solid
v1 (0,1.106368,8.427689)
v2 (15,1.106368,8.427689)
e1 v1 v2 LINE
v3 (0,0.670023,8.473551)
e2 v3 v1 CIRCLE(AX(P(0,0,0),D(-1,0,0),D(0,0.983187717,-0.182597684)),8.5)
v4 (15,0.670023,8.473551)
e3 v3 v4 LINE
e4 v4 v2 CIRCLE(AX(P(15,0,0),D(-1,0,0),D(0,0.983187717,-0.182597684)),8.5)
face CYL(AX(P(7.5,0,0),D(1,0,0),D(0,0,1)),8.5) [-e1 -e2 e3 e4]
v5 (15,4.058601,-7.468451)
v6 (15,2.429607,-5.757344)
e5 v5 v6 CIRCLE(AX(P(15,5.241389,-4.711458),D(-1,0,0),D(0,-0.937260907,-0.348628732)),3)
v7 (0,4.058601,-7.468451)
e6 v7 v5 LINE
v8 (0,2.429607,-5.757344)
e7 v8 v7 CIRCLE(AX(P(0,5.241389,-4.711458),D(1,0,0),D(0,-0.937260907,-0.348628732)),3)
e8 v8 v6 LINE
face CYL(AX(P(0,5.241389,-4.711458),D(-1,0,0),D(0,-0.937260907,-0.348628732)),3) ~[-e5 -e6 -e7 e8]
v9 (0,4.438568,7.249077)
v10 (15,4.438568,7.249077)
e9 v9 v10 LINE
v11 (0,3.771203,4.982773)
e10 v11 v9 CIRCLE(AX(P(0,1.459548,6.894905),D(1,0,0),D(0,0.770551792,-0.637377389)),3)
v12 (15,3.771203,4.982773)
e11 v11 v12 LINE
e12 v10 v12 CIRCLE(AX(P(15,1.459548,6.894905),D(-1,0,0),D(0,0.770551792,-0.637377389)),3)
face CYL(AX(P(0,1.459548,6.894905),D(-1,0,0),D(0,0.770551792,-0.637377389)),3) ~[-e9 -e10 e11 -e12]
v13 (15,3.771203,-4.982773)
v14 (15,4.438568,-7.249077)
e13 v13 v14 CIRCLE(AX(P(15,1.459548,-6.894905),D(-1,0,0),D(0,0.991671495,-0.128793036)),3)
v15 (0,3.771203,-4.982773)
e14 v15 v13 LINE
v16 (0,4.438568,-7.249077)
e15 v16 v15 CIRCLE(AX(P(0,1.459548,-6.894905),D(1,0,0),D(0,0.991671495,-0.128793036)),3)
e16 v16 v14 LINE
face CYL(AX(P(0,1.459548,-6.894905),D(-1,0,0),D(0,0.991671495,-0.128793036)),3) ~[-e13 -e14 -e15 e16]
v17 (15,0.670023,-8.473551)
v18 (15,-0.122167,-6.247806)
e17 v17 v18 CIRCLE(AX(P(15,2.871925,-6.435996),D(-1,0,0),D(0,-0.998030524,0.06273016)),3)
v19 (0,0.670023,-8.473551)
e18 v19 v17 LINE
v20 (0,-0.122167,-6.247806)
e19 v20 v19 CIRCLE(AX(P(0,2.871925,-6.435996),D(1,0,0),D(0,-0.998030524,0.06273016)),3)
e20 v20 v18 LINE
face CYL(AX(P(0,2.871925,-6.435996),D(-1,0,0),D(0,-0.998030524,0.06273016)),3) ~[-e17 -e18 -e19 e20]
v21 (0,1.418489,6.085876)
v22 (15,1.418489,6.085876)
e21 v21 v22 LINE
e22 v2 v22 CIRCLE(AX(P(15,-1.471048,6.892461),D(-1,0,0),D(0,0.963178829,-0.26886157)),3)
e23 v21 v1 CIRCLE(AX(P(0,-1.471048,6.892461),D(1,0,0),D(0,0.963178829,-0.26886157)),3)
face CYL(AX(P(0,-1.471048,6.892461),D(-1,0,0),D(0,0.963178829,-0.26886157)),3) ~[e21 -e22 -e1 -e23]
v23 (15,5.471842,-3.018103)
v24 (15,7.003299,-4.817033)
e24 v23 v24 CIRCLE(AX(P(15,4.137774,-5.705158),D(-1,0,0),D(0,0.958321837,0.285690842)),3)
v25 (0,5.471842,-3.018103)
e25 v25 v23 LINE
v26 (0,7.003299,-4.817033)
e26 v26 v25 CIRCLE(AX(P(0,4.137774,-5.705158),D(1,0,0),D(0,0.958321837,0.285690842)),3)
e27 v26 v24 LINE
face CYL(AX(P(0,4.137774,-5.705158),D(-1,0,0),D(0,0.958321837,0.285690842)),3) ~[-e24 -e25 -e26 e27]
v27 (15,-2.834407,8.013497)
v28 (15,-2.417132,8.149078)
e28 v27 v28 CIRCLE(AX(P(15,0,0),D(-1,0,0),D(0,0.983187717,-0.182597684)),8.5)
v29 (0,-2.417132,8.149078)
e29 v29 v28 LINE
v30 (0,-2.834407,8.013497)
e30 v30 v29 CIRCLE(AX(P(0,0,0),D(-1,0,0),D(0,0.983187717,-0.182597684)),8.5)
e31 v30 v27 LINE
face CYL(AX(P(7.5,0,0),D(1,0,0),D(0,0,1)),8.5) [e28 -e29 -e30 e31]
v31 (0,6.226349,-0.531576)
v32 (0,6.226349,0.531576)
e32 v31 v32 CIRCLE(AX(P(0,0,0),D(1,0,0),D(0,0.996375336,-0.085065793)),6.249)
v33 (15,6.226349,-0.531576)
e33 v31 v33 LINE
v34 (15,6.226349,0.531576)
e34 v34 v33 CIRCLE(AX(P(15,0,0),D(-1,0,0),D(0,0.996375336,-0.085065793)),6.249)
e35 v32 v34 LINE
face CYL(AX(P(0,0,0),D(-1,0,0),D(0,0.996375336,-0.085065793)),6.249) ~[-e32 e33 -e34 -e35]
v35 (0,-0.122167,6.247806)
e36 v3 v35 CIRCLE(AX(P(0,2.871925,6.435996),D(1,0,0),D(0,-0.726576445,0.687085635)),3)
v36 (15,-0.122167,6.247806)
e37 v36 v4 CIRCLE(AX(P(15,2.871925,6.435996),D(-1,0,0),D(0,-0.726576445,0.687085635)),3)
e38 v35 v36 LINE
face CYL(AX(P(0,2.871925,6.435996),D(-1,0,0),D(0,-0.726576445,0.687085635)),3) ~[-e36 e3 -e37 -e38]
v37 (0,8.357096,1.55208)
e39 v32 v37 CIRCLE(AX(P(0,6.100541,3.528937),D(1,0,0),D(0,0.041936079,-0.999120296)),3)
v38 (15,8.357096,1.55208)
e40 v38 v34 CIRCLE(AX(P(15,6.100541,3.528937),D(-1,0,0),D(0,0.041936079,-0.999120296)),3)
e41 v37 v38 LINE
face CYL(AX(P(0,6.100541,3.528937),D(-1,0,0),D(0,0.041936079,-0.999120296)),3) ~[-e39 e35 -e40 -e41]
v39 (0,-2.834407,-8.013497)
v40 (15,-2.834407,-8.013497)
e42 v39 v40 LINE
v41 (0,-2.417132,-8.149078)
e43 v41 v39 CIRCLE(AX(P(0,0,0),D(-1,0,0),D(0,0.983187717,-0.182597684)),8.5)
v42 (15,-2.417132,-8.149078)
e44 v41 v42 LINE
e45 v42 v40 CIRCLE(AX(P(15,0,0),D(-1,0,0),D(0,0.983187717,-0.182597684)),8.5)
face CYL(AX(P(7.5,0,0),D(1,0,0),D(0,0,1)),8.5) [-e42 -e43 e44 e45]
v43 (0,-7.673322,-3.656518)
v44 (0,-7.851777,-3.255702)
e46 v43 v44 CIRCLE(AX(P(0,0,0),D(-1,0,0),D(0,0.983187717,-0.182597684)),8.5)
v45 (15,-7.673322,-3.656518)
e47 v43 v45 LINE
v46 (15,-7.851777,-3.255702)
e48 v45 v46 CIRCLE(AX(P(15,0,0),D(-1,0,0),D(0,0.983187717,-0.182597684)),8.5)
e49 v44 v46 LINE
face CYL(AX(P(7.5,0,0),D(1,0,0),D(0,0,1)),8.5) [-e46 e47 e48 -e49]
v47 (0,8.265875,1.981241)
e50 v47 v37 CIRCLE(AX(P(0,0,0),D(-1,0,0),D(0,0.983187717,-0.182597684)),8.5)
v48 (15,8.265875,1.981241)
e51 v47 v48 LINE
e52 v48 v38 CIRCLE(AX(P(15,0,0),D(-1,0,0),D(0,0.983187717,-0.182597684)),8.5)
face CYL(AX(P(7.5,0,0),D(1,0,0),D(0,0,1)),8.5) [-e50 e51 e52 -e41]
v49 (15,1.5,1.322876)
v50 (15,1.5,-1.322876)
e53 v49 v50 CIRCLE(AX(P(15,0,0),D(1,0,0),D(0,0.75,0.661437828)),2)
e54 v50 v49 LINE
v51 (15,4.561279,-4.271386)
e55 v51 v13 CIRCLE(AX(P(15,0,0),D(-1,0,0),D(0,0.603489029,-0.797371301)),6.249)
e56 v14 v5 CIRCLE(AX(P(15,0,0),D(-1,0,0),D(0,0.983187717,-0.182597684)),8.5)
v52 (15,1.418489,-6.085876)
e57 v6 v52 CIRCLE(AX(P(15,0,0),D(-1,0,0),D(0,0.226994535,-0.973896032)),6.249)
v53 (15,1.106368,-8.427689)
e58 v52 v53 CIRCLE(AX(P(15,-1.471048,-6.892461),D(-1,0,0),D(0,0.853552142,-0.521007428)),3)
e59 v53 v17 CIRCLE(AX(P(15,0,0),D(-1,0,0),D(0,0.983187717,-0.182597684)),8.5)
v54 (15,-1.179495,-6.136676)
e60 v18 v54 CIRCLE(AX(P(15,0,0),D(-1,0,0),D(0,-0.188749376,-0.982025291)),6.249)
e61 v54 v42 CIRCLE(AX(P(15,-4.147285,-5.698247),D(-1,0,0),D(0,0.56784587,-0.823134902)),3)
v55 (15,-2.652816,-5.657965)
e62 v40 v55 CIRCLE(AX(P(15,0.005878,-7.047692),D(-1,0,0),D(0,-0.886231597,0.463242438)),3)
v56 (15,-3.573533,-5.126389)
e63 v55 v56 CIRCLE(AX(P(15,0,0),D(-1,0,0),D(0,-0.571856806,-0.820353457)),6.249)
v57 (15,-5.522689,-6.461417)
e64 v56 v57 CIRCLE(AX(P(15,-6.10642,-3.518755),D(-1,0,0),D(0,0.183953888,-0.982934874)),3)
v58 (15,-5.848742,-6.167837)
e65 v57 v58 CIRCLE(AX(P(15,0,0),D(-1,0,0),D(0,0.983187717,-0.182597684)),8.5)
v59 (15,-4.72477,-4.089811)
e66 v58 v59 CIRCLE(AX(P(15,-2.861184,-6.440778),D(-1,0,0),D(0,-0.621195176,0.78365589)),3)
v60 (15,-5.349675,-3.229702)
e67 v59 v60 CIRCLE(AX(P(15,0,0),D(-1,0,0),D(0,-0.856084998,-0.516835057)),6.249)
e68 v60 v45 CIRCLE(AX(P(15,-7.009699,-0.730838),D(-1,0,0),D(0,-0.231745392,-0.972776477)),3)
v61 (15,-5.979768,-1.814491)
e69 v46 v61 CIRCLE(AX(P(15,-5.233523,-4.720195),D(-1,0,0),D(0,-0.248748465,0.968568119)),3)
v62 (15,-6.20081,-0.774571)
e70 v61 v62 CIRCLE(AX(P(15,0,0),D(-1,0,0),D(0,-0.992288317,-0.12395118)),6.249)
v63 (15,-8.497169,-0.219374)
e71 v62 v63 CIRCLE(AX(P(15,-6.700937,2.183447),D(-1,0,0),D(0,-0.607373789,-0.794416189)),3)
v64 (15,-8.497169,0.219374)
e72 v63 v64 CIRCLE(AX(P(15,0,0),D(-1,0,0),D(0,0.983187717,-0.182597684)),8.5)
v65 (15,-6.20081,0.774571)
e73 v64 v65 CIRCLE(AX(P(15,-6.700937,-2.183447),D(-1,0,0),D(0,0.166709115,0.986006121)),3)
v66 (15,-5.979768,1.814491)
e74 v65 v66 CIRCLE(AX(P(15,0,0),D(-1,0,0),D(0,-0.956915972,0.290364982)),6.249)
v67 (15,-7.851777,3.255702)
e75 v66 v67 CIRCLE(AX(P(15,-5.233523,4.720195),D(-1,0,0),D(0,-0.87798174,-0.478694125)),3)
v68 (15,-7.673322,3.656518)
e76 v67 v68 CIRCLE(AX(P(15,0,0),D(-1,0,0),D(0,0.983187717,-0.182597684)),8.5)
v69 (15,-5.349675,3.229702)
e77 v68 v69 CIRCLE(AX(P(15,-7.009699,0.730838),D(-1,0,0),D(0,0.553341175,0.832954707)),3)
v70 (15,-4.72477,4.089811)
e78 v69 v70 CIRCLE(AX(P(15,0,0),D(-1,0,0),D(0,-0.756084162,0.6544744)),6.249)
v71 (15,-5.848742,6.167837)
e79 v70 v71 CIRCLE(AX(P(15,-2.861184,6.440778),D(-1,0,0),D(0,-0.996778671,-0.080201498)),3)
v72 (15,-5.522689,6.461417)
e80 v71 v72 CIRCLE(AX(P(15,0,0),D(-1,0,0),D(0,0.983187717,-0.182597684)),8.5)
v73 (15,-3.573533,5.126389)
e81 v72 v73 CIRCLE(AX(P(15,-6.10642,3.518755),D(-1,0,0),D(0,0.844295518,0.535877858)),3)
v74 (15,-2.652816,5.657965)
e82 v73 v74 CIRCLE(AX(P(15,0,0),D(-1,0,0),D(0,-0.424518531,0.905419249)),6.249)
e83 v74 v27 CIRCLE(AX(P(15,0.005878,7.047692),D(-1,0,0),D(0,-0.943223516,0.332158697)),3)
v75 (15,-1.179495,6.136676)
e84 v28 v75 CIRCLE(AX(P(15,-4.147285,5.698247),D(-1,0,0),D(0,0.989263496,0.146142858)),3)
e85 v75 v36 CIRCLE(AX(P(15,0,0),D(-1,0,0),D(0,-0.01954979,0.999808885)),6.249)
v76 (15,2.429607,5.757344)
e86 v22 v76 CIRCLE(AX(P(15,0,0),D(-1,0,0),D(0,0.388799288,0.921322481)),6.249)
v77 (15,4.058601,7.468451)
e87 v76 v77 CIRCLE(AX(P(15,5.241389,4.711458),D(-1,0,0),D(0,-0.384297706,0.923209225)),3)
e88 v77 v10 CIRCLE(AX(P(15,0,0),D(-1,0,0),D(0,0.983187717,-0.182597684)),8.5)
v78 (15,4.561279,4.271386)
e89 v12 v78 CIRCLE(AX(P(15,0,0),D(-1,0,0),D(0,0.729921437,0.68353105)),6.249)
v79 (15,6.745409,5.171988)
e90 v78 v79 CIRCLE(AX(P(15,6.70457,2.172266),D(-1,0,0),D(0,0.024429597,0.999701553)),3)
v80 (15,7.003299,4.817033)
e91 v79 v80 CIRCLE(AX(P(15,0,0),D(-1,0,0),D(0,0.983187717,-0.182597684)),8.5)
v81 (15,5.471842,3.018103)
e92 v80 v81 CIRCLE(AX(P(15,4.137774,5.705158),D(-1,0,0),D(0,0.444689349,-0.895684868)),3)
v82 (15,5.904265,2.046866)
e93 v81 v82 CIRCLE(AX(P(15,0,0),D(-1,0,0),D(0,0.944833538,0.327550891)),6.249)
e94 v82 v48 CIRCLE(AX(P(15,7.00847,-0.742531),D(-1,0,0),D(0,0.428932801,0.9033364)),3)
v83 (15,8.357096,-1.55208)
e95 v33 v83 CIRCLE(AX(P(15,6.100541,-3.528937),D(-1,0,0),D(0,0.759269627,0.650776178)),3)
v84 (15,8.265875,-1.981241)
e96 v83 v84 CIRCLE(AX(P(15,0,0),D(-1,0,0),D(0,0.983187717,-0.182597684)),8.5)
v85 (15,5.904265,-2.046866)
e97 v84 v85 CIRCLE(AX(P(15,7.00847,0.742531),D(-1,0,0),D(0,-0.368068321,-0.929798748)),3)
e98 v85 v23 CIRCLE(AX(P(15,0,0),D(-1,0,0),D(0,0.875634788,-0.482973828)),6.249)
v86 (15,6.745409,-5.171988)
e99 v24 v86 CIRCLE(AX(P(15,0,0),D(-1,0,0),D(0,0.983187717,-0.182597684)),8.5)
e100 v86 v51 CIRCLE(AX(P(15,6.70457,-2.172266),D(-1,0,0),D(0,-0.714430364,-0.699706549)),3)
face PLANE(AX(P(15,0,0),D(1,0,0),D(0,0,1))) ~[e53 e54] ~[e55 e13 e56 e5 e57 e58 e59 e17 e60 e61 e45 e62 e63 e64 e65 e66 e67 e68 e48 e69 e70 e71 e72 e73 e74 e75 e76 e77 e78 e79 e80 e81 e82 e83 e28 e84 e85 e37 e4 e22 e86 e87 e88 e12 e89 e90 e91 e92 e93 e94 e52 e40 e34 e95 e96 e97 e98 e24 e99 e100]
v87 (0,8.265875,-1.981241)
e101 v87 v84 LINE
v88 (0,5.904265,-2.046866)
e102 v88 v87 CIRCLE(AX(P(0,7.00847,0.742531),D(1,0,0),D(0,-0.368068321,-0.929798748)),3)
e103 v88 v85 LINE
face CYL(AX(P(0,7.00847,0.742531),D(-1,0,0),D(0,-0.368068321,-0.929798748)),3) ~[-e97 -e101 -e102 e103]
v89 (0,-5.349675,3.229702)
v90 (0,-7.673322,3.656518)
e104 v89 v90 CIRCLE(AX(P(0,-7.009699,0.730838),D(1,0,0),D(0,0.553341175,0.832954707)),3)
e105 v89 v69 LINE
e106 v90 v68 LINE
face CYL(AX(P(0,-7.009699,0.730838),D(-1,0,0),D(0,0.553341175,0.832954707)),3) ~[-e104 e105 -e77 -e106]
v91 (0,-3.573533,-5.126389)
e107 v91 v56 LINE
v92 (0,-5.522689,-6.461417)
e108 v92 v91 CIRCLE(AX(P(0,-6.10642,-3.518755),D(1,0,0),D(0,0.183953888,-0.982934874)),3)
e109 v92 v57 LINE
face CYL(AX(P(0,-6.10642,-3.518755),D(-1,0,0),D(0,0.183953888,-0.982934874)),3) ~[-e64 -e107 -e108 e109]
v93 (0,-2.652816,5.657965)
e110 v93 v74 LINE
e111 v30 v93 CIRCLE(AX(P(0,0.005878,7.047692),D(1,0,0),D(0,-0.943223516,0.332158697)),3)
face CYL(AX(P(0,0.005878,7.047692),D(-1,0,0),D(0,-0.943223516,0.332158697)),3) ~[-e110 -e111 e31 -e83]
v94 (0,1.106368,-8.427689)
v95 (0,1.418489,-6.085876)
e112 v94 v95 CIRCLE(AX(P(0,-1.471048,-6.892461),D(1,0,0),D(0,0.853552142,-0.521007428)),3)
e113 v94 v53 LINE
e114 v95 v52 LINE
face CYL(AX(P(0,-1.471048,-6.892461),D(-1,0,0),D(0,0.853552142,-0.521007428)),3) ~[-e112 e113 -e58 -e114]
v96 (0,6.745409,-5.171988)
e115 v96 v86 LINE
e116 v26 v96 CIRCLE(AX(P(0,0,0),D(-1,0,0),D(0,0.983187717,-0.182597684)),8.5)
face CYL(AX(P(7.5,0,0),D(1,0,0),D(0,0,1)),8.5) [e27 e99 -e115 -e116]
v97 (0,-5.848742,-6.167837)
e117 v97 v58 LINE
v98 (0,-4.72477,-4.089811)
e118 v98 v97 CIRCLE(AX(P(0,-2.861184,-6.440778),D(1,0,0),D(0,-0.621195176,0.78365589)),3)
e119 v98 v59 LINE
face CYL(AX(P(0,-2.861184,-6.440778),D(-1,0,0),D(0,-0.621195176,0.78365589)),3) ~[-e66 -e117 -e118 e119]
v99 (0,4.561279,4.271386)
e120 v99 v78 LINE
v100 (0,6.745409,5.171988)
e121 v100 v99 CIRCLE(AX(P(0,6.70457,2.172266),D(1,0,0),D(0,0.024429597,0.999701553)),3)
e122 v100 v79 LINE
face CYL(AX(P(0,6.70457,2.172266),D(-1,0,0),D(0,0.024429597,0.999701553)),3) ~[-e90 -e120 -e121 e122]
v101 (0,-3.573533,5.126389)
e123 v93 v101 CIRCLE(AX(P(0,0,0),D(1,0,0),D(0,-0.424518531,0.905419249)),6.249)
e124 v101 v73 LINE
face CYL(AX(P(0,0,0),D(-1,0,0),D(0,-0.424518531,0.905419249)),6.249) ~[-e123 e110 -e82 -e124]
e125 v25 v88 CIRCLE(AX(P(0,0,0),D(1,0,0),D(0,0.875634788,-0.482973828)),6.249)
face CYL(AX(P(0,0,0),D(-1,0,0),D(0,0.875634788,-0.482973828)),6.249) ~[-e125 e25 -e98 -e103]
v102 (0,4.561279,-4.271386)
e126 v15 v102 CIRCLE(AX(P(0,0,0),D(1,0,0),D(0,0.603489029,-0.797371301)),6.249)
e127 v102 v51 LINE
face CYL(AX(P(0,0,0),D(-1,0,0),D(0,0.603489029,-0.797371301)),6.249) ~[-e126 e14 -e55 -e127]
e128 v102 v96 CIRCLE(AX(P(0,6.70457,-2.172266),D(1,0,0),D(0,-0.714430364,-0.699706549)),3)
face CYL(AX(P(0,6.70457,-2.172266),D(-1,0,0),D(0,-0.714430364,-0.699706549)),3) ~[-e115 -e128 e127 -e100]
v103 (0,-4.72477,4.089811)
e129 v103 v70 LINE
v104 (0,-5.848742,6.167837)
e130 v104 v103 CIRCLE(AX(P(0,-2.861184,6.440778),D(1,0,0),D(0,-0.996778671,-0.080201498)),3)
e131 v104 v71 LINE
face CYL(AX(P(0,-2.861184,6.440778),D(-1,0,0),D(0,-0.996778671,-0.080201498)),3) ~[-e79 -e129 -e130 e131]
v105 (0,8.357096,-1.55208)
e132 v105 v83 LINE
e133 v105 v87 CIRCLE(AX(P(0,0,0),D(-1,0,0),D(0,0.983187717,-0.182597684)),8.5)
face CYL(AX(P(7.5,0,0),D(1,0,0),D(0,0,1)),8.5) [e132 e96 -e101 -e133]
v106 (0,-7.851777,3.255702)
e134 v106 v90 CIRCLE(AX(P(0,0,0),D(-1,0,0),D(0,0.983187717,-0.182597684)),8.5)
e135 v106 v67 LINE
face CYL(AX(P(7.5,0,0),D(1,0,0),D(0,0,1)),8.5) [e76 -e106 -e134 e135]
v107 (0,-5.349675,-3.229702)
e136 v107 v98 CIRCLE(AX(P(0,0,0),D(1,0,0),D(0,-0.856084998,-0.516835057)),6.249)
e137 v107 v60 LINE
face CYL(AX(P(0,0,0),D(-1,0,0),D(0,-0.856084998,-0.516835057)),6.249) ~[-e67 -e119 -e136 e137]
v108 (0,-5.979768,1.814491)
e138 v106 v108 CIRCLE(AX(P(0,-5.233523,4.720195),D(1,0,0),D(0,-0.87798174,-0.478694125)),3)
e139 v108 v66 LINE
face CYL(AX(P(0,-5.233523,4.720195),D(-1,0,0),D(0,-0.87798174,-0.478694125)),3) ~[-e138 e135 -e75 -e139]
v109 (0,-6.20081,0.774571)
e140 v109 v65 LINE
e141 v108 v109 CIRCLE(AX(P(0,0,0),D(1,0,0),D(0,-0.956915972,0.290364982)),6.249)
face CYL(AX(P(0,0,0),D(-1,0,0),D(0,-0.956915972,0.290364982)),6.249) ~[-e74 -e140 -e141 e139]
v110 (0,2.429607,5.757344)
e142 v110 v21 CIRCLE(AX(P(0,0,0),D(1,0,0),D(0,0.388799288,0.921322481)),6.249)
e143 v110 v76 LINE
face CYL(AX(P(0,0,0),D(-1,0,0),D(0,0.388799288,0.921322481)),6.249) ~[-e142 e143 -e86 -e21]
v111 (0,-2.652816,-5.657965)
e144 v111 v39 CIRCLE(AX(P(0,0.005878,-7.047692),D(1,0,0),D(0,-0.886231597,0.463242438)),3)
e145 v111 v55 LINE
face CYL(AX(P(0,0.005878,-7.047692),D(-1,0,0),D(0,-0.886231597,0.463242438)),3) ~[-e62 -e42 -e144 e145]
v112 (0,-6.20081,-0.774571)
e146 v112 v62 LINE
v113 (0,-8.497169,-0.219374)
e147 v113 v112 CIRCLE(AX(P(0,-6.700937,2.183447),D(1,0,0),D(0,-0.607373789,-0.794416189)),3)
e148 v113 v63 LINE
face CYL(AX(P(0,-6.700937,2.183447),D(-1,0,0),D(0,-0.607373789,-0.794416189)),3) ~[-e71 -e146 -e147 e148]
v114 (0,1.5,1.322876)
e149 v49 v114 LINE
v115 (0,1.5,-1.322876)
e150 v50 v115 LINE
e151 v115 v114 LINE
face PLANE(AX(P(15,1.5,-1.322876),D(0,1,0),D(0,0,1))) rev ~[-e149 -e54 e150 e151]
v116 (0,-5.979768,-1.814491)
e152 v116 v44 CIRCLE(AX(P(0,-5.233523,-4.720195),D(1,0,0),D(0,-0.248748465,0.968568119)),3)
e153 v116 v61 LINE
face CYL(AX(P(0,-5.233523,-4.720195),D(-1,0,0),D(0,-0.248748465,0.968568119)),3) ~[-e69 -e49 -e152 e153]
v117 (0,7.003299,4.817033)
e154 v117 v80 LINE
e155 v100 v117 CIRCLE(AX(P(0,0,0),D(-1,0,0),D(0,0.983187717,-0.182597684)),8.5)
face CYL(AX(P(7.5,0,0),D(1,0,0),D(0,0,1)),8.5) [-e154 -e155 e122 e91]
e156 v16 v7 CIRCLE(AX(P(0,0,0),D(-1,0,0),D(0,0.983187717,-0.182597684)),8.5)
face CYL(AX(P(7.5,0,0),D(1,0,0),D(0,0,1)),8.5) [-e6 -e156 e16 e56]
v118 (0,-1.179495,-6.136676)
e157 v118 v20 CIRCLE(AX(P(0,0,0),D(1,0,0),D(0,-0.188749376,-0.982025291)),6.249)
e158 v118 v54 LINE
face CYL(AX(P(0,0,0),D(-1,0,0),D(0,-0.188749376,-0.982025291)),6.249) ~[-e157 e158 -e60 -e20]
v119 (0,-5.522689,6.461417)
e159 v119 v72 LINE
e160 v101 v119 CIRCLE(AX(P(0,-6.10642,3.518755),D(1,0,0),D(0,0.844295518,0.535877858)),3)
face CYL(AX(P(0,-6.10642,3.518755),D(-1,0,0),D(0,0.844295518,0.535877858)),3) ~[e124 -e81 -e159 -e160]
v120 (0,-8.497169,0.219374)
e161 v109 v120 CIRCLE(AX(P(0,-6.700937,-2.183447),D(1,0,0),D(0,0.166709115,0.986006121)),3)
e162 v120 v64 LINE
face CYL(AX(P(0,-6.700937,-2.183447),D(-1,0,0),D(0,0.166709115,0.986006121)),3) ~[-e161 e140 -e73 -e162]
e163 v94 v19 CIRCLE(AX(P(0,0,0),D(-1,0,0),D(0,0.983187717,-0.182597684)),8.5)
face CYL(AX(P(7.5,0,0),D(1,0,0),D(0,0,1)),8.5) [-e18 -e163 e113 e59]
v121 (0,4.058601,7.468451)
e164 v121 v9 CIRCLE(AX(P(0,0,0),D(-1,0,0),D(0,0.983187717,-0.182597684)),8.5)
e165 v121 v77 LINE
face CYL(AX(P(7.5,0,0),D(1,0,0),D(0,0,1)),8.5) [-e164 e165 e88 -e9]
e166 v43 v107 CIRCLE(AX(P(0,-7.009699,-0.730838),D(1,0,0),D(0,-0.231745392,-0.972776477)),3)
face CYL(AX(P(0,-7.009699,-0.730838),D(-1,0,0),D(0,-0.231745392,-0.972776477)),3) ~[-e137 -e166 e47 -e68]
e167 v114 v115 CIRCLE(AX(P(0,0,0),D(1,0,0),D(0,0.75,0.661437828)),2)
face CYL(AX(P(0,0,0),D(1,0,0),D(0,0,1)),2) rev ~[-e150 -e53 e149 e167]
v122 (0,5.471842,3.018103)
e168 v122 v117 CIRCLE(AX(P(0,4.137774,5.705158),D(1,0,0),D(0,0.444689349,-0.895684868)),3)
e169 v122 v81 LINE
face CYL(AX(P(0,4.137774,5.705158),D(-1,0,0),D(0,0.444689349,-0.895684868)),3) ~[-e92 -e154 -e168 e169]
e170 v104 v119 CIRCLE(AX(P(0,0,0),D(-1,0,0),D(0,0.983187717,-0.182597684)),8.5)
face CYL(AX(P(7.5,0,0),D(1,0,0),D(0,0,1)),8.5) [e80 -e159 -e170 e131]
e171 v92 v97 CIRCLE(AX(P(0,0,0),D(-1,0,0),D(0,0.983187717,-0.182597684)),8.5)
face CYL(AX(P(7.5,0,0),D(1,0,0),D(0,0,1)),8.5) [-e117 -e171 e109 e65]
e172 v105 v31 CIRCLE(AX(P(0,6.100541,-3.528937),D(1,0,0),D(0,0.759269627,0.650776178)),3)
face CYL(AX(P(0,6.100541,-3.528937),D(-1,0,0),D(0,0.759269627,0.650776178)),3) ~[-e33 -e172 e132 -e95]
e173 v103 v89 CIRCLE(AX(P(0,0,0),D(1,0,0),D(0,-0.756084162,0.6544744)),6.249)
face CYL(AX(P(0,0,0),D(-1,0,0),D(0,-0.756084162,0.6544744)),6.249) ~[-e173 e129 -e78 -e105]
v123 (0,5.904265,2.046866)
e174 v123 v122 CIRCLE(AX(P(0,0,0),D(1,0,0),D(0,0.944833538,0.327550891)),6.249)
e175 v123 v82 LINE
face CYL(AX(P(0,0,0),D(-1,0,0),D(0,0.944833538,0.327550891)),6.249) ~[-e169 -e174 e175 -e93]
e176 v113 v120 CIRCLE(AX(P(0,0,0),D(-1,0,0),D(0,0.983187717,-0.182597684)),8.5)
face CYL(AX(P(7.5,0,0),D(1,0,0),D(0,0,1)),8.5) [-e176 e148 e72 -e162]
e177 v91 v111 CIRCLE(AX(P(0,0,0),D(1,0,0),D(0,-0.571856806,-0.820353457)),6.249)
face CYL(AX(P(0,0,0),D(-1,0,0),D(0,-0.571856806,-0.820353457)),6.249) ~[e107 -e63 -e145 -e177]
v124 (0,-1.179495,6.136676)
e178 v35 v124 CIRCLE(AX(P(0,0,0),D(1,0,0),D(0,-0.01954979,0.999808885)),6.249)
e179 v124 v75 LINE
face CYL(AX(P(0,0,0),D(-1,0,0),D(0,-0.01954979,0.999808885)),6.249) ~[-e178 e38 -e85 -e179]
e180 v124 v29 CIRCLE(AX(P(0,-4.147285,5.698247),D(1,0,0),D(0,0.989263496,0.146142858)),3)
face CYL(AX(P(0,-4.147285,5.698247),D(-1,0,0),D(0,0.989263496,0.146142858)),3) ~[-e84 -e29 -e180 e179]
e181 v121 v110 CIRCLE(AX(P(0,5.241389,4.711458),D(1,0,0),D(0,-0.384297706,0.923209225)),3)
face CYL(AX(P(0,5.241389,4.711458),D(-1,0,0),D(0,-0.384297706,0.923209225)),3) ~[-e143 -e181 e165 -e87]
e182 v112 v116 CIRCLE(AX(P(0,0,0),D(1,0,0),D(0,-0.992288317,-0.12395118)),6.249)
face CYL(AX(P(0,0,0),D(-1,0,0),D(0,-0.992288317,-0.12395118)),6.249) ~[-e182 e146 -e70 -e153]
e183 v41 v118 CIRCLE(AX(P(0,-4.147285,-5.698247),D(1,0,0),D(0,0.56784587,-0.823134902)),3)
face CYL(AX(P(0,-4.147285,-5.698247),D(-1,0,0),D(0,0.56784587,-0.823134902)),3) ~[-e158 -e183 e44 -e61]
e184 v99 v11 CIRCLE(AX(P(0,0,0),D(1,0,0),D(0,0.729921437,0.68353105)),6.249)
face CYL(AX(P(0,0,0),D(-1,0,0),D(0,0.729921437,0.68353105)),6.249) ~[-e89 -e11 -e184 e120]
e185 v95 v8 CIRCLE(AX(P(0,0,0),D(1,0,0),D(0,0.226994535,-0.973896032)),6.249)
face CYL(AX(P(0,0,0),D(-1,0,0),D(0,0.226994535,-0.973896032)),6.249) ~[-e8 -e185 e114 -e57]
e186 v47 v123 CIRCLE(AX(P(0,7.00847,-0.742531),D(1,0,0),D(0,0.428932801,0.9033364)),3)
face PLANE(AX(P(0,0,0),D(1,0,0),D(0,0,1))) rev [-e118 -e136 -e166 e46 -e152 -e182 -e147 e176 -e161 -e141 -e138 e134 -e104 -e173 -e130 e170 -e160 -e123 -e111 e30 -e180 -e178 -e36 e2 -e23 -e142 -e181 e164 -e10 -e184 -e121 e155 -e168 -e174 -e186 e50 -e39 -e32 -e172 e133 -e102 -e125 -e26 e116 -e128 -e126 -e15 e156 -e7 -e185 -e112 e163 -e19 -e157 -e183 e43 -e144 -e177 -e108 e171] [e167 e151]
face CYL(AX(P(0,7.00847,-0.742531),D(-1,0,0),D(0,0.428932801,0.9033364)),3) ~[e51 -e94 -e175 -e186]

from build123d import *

# Parameters (mm, degrees)
BASPROSKE_W         = 15
BASPROSKE_H         = 8.5
TOOTHCUT_DEPTH      = 20.222382787
TEETHCUTS_COUNT     = 15
TEETHCUTS_ANGLE     = 336
BORSKE_R            = 2
BORE_DEPTH          = 50.0000508
BOSS_EXTRUDE1_DEPTH = 15


with BuildPart() as part:
    # BasProSke → Base-Revolve (revolve)
    with BuildSketch(Plane(origin=(0, 0, 0), x_dir=(1, 0, 0), z_dir=(0, 1, 0)), mode=Mode.PRIVATE) as base_revolve_sk:
        with Locations((7.5, 4.25)):
            Rectangle(BASPROSKE_W, BASPROSKE_H)
    revolve(base_revolve_sk.sketch.rotate(Axis((-10, 0, 0), (1, 0, 0)), 180), axis=Axis((-10, 0, 0), (1, 0, 0)))

    # TooCutSke → ToothCut (cut, through all)
    with BuildSketch(Plane(origin=(0, 0, 0), x_dir=(0, 0, -1), z_dir=(1, 0, 0))):
        with BuildLine():
            ThreePointArc((0.531576138, 6.226349477), (0, 6.249), (-0.531576138, 6.226349477))
            ThreePointArc((-0.531576138, 6.226349477), (-0.830301624, 7.411024729), (-1.576608494, 8.378350125))
            ThreePointArc((-1.576608494, 8.378350125), (0, 8.5254), (1.576608494, 8.378350125))
            ThreePointArc((1.576608494, 8.378350125), (0.830301624, 7.411024729), (0.531576138, 6.226349477))
        make_face()
    toothcut = extrude(amount=TOOTHCUT_DEPTH, mode=Mode.SUBTRACT)

    # TeethCuts: ToothCut ×15 about axis
    teethcuts_axis = Axis((-10, 0, 0), (1, 0, 0))
    for i in range(1, TEETHCUTS_COUNT):
        add(toothcut.rotate(teethcuts_axis, i * TEETHCUTS_ANGLE / (TEETHCUTS_COUNT - 1)), mode=Mode.SUBTRACT)

    # BorSke → Bore (cut, symmetric)
    with BuildSketch(Plane(origin=(0, 0, 0), x_dir=(0, 0, -1), z_dir=(1, 0, 0))):
        with Locations(Location((0, 0, 0), (0, 0, 180))):
            Circle(BORSKE_R)
    extrude(amount=BORE_DEPTH, both=True, mode=Mode.SUBTRACT)

    # Sketch1 → Boss-Extrude1 (add)
    with BuildSketch(Plane(origin=(15, 0, 0), x_dir=(0, 0, -1), z_dir=(1, 0, 0))):
        with BuildLine():
            ThreePointArc((-1.322875656, 1.5), (0, 2), (1.322875656, 1.5))
            Line((1.322875656, 1.5), (-1.322875656, 1.5))
        make_face()
    extrude(amount=-BOSS_EXTRUDE1_DEPTH)


solid = part.part
